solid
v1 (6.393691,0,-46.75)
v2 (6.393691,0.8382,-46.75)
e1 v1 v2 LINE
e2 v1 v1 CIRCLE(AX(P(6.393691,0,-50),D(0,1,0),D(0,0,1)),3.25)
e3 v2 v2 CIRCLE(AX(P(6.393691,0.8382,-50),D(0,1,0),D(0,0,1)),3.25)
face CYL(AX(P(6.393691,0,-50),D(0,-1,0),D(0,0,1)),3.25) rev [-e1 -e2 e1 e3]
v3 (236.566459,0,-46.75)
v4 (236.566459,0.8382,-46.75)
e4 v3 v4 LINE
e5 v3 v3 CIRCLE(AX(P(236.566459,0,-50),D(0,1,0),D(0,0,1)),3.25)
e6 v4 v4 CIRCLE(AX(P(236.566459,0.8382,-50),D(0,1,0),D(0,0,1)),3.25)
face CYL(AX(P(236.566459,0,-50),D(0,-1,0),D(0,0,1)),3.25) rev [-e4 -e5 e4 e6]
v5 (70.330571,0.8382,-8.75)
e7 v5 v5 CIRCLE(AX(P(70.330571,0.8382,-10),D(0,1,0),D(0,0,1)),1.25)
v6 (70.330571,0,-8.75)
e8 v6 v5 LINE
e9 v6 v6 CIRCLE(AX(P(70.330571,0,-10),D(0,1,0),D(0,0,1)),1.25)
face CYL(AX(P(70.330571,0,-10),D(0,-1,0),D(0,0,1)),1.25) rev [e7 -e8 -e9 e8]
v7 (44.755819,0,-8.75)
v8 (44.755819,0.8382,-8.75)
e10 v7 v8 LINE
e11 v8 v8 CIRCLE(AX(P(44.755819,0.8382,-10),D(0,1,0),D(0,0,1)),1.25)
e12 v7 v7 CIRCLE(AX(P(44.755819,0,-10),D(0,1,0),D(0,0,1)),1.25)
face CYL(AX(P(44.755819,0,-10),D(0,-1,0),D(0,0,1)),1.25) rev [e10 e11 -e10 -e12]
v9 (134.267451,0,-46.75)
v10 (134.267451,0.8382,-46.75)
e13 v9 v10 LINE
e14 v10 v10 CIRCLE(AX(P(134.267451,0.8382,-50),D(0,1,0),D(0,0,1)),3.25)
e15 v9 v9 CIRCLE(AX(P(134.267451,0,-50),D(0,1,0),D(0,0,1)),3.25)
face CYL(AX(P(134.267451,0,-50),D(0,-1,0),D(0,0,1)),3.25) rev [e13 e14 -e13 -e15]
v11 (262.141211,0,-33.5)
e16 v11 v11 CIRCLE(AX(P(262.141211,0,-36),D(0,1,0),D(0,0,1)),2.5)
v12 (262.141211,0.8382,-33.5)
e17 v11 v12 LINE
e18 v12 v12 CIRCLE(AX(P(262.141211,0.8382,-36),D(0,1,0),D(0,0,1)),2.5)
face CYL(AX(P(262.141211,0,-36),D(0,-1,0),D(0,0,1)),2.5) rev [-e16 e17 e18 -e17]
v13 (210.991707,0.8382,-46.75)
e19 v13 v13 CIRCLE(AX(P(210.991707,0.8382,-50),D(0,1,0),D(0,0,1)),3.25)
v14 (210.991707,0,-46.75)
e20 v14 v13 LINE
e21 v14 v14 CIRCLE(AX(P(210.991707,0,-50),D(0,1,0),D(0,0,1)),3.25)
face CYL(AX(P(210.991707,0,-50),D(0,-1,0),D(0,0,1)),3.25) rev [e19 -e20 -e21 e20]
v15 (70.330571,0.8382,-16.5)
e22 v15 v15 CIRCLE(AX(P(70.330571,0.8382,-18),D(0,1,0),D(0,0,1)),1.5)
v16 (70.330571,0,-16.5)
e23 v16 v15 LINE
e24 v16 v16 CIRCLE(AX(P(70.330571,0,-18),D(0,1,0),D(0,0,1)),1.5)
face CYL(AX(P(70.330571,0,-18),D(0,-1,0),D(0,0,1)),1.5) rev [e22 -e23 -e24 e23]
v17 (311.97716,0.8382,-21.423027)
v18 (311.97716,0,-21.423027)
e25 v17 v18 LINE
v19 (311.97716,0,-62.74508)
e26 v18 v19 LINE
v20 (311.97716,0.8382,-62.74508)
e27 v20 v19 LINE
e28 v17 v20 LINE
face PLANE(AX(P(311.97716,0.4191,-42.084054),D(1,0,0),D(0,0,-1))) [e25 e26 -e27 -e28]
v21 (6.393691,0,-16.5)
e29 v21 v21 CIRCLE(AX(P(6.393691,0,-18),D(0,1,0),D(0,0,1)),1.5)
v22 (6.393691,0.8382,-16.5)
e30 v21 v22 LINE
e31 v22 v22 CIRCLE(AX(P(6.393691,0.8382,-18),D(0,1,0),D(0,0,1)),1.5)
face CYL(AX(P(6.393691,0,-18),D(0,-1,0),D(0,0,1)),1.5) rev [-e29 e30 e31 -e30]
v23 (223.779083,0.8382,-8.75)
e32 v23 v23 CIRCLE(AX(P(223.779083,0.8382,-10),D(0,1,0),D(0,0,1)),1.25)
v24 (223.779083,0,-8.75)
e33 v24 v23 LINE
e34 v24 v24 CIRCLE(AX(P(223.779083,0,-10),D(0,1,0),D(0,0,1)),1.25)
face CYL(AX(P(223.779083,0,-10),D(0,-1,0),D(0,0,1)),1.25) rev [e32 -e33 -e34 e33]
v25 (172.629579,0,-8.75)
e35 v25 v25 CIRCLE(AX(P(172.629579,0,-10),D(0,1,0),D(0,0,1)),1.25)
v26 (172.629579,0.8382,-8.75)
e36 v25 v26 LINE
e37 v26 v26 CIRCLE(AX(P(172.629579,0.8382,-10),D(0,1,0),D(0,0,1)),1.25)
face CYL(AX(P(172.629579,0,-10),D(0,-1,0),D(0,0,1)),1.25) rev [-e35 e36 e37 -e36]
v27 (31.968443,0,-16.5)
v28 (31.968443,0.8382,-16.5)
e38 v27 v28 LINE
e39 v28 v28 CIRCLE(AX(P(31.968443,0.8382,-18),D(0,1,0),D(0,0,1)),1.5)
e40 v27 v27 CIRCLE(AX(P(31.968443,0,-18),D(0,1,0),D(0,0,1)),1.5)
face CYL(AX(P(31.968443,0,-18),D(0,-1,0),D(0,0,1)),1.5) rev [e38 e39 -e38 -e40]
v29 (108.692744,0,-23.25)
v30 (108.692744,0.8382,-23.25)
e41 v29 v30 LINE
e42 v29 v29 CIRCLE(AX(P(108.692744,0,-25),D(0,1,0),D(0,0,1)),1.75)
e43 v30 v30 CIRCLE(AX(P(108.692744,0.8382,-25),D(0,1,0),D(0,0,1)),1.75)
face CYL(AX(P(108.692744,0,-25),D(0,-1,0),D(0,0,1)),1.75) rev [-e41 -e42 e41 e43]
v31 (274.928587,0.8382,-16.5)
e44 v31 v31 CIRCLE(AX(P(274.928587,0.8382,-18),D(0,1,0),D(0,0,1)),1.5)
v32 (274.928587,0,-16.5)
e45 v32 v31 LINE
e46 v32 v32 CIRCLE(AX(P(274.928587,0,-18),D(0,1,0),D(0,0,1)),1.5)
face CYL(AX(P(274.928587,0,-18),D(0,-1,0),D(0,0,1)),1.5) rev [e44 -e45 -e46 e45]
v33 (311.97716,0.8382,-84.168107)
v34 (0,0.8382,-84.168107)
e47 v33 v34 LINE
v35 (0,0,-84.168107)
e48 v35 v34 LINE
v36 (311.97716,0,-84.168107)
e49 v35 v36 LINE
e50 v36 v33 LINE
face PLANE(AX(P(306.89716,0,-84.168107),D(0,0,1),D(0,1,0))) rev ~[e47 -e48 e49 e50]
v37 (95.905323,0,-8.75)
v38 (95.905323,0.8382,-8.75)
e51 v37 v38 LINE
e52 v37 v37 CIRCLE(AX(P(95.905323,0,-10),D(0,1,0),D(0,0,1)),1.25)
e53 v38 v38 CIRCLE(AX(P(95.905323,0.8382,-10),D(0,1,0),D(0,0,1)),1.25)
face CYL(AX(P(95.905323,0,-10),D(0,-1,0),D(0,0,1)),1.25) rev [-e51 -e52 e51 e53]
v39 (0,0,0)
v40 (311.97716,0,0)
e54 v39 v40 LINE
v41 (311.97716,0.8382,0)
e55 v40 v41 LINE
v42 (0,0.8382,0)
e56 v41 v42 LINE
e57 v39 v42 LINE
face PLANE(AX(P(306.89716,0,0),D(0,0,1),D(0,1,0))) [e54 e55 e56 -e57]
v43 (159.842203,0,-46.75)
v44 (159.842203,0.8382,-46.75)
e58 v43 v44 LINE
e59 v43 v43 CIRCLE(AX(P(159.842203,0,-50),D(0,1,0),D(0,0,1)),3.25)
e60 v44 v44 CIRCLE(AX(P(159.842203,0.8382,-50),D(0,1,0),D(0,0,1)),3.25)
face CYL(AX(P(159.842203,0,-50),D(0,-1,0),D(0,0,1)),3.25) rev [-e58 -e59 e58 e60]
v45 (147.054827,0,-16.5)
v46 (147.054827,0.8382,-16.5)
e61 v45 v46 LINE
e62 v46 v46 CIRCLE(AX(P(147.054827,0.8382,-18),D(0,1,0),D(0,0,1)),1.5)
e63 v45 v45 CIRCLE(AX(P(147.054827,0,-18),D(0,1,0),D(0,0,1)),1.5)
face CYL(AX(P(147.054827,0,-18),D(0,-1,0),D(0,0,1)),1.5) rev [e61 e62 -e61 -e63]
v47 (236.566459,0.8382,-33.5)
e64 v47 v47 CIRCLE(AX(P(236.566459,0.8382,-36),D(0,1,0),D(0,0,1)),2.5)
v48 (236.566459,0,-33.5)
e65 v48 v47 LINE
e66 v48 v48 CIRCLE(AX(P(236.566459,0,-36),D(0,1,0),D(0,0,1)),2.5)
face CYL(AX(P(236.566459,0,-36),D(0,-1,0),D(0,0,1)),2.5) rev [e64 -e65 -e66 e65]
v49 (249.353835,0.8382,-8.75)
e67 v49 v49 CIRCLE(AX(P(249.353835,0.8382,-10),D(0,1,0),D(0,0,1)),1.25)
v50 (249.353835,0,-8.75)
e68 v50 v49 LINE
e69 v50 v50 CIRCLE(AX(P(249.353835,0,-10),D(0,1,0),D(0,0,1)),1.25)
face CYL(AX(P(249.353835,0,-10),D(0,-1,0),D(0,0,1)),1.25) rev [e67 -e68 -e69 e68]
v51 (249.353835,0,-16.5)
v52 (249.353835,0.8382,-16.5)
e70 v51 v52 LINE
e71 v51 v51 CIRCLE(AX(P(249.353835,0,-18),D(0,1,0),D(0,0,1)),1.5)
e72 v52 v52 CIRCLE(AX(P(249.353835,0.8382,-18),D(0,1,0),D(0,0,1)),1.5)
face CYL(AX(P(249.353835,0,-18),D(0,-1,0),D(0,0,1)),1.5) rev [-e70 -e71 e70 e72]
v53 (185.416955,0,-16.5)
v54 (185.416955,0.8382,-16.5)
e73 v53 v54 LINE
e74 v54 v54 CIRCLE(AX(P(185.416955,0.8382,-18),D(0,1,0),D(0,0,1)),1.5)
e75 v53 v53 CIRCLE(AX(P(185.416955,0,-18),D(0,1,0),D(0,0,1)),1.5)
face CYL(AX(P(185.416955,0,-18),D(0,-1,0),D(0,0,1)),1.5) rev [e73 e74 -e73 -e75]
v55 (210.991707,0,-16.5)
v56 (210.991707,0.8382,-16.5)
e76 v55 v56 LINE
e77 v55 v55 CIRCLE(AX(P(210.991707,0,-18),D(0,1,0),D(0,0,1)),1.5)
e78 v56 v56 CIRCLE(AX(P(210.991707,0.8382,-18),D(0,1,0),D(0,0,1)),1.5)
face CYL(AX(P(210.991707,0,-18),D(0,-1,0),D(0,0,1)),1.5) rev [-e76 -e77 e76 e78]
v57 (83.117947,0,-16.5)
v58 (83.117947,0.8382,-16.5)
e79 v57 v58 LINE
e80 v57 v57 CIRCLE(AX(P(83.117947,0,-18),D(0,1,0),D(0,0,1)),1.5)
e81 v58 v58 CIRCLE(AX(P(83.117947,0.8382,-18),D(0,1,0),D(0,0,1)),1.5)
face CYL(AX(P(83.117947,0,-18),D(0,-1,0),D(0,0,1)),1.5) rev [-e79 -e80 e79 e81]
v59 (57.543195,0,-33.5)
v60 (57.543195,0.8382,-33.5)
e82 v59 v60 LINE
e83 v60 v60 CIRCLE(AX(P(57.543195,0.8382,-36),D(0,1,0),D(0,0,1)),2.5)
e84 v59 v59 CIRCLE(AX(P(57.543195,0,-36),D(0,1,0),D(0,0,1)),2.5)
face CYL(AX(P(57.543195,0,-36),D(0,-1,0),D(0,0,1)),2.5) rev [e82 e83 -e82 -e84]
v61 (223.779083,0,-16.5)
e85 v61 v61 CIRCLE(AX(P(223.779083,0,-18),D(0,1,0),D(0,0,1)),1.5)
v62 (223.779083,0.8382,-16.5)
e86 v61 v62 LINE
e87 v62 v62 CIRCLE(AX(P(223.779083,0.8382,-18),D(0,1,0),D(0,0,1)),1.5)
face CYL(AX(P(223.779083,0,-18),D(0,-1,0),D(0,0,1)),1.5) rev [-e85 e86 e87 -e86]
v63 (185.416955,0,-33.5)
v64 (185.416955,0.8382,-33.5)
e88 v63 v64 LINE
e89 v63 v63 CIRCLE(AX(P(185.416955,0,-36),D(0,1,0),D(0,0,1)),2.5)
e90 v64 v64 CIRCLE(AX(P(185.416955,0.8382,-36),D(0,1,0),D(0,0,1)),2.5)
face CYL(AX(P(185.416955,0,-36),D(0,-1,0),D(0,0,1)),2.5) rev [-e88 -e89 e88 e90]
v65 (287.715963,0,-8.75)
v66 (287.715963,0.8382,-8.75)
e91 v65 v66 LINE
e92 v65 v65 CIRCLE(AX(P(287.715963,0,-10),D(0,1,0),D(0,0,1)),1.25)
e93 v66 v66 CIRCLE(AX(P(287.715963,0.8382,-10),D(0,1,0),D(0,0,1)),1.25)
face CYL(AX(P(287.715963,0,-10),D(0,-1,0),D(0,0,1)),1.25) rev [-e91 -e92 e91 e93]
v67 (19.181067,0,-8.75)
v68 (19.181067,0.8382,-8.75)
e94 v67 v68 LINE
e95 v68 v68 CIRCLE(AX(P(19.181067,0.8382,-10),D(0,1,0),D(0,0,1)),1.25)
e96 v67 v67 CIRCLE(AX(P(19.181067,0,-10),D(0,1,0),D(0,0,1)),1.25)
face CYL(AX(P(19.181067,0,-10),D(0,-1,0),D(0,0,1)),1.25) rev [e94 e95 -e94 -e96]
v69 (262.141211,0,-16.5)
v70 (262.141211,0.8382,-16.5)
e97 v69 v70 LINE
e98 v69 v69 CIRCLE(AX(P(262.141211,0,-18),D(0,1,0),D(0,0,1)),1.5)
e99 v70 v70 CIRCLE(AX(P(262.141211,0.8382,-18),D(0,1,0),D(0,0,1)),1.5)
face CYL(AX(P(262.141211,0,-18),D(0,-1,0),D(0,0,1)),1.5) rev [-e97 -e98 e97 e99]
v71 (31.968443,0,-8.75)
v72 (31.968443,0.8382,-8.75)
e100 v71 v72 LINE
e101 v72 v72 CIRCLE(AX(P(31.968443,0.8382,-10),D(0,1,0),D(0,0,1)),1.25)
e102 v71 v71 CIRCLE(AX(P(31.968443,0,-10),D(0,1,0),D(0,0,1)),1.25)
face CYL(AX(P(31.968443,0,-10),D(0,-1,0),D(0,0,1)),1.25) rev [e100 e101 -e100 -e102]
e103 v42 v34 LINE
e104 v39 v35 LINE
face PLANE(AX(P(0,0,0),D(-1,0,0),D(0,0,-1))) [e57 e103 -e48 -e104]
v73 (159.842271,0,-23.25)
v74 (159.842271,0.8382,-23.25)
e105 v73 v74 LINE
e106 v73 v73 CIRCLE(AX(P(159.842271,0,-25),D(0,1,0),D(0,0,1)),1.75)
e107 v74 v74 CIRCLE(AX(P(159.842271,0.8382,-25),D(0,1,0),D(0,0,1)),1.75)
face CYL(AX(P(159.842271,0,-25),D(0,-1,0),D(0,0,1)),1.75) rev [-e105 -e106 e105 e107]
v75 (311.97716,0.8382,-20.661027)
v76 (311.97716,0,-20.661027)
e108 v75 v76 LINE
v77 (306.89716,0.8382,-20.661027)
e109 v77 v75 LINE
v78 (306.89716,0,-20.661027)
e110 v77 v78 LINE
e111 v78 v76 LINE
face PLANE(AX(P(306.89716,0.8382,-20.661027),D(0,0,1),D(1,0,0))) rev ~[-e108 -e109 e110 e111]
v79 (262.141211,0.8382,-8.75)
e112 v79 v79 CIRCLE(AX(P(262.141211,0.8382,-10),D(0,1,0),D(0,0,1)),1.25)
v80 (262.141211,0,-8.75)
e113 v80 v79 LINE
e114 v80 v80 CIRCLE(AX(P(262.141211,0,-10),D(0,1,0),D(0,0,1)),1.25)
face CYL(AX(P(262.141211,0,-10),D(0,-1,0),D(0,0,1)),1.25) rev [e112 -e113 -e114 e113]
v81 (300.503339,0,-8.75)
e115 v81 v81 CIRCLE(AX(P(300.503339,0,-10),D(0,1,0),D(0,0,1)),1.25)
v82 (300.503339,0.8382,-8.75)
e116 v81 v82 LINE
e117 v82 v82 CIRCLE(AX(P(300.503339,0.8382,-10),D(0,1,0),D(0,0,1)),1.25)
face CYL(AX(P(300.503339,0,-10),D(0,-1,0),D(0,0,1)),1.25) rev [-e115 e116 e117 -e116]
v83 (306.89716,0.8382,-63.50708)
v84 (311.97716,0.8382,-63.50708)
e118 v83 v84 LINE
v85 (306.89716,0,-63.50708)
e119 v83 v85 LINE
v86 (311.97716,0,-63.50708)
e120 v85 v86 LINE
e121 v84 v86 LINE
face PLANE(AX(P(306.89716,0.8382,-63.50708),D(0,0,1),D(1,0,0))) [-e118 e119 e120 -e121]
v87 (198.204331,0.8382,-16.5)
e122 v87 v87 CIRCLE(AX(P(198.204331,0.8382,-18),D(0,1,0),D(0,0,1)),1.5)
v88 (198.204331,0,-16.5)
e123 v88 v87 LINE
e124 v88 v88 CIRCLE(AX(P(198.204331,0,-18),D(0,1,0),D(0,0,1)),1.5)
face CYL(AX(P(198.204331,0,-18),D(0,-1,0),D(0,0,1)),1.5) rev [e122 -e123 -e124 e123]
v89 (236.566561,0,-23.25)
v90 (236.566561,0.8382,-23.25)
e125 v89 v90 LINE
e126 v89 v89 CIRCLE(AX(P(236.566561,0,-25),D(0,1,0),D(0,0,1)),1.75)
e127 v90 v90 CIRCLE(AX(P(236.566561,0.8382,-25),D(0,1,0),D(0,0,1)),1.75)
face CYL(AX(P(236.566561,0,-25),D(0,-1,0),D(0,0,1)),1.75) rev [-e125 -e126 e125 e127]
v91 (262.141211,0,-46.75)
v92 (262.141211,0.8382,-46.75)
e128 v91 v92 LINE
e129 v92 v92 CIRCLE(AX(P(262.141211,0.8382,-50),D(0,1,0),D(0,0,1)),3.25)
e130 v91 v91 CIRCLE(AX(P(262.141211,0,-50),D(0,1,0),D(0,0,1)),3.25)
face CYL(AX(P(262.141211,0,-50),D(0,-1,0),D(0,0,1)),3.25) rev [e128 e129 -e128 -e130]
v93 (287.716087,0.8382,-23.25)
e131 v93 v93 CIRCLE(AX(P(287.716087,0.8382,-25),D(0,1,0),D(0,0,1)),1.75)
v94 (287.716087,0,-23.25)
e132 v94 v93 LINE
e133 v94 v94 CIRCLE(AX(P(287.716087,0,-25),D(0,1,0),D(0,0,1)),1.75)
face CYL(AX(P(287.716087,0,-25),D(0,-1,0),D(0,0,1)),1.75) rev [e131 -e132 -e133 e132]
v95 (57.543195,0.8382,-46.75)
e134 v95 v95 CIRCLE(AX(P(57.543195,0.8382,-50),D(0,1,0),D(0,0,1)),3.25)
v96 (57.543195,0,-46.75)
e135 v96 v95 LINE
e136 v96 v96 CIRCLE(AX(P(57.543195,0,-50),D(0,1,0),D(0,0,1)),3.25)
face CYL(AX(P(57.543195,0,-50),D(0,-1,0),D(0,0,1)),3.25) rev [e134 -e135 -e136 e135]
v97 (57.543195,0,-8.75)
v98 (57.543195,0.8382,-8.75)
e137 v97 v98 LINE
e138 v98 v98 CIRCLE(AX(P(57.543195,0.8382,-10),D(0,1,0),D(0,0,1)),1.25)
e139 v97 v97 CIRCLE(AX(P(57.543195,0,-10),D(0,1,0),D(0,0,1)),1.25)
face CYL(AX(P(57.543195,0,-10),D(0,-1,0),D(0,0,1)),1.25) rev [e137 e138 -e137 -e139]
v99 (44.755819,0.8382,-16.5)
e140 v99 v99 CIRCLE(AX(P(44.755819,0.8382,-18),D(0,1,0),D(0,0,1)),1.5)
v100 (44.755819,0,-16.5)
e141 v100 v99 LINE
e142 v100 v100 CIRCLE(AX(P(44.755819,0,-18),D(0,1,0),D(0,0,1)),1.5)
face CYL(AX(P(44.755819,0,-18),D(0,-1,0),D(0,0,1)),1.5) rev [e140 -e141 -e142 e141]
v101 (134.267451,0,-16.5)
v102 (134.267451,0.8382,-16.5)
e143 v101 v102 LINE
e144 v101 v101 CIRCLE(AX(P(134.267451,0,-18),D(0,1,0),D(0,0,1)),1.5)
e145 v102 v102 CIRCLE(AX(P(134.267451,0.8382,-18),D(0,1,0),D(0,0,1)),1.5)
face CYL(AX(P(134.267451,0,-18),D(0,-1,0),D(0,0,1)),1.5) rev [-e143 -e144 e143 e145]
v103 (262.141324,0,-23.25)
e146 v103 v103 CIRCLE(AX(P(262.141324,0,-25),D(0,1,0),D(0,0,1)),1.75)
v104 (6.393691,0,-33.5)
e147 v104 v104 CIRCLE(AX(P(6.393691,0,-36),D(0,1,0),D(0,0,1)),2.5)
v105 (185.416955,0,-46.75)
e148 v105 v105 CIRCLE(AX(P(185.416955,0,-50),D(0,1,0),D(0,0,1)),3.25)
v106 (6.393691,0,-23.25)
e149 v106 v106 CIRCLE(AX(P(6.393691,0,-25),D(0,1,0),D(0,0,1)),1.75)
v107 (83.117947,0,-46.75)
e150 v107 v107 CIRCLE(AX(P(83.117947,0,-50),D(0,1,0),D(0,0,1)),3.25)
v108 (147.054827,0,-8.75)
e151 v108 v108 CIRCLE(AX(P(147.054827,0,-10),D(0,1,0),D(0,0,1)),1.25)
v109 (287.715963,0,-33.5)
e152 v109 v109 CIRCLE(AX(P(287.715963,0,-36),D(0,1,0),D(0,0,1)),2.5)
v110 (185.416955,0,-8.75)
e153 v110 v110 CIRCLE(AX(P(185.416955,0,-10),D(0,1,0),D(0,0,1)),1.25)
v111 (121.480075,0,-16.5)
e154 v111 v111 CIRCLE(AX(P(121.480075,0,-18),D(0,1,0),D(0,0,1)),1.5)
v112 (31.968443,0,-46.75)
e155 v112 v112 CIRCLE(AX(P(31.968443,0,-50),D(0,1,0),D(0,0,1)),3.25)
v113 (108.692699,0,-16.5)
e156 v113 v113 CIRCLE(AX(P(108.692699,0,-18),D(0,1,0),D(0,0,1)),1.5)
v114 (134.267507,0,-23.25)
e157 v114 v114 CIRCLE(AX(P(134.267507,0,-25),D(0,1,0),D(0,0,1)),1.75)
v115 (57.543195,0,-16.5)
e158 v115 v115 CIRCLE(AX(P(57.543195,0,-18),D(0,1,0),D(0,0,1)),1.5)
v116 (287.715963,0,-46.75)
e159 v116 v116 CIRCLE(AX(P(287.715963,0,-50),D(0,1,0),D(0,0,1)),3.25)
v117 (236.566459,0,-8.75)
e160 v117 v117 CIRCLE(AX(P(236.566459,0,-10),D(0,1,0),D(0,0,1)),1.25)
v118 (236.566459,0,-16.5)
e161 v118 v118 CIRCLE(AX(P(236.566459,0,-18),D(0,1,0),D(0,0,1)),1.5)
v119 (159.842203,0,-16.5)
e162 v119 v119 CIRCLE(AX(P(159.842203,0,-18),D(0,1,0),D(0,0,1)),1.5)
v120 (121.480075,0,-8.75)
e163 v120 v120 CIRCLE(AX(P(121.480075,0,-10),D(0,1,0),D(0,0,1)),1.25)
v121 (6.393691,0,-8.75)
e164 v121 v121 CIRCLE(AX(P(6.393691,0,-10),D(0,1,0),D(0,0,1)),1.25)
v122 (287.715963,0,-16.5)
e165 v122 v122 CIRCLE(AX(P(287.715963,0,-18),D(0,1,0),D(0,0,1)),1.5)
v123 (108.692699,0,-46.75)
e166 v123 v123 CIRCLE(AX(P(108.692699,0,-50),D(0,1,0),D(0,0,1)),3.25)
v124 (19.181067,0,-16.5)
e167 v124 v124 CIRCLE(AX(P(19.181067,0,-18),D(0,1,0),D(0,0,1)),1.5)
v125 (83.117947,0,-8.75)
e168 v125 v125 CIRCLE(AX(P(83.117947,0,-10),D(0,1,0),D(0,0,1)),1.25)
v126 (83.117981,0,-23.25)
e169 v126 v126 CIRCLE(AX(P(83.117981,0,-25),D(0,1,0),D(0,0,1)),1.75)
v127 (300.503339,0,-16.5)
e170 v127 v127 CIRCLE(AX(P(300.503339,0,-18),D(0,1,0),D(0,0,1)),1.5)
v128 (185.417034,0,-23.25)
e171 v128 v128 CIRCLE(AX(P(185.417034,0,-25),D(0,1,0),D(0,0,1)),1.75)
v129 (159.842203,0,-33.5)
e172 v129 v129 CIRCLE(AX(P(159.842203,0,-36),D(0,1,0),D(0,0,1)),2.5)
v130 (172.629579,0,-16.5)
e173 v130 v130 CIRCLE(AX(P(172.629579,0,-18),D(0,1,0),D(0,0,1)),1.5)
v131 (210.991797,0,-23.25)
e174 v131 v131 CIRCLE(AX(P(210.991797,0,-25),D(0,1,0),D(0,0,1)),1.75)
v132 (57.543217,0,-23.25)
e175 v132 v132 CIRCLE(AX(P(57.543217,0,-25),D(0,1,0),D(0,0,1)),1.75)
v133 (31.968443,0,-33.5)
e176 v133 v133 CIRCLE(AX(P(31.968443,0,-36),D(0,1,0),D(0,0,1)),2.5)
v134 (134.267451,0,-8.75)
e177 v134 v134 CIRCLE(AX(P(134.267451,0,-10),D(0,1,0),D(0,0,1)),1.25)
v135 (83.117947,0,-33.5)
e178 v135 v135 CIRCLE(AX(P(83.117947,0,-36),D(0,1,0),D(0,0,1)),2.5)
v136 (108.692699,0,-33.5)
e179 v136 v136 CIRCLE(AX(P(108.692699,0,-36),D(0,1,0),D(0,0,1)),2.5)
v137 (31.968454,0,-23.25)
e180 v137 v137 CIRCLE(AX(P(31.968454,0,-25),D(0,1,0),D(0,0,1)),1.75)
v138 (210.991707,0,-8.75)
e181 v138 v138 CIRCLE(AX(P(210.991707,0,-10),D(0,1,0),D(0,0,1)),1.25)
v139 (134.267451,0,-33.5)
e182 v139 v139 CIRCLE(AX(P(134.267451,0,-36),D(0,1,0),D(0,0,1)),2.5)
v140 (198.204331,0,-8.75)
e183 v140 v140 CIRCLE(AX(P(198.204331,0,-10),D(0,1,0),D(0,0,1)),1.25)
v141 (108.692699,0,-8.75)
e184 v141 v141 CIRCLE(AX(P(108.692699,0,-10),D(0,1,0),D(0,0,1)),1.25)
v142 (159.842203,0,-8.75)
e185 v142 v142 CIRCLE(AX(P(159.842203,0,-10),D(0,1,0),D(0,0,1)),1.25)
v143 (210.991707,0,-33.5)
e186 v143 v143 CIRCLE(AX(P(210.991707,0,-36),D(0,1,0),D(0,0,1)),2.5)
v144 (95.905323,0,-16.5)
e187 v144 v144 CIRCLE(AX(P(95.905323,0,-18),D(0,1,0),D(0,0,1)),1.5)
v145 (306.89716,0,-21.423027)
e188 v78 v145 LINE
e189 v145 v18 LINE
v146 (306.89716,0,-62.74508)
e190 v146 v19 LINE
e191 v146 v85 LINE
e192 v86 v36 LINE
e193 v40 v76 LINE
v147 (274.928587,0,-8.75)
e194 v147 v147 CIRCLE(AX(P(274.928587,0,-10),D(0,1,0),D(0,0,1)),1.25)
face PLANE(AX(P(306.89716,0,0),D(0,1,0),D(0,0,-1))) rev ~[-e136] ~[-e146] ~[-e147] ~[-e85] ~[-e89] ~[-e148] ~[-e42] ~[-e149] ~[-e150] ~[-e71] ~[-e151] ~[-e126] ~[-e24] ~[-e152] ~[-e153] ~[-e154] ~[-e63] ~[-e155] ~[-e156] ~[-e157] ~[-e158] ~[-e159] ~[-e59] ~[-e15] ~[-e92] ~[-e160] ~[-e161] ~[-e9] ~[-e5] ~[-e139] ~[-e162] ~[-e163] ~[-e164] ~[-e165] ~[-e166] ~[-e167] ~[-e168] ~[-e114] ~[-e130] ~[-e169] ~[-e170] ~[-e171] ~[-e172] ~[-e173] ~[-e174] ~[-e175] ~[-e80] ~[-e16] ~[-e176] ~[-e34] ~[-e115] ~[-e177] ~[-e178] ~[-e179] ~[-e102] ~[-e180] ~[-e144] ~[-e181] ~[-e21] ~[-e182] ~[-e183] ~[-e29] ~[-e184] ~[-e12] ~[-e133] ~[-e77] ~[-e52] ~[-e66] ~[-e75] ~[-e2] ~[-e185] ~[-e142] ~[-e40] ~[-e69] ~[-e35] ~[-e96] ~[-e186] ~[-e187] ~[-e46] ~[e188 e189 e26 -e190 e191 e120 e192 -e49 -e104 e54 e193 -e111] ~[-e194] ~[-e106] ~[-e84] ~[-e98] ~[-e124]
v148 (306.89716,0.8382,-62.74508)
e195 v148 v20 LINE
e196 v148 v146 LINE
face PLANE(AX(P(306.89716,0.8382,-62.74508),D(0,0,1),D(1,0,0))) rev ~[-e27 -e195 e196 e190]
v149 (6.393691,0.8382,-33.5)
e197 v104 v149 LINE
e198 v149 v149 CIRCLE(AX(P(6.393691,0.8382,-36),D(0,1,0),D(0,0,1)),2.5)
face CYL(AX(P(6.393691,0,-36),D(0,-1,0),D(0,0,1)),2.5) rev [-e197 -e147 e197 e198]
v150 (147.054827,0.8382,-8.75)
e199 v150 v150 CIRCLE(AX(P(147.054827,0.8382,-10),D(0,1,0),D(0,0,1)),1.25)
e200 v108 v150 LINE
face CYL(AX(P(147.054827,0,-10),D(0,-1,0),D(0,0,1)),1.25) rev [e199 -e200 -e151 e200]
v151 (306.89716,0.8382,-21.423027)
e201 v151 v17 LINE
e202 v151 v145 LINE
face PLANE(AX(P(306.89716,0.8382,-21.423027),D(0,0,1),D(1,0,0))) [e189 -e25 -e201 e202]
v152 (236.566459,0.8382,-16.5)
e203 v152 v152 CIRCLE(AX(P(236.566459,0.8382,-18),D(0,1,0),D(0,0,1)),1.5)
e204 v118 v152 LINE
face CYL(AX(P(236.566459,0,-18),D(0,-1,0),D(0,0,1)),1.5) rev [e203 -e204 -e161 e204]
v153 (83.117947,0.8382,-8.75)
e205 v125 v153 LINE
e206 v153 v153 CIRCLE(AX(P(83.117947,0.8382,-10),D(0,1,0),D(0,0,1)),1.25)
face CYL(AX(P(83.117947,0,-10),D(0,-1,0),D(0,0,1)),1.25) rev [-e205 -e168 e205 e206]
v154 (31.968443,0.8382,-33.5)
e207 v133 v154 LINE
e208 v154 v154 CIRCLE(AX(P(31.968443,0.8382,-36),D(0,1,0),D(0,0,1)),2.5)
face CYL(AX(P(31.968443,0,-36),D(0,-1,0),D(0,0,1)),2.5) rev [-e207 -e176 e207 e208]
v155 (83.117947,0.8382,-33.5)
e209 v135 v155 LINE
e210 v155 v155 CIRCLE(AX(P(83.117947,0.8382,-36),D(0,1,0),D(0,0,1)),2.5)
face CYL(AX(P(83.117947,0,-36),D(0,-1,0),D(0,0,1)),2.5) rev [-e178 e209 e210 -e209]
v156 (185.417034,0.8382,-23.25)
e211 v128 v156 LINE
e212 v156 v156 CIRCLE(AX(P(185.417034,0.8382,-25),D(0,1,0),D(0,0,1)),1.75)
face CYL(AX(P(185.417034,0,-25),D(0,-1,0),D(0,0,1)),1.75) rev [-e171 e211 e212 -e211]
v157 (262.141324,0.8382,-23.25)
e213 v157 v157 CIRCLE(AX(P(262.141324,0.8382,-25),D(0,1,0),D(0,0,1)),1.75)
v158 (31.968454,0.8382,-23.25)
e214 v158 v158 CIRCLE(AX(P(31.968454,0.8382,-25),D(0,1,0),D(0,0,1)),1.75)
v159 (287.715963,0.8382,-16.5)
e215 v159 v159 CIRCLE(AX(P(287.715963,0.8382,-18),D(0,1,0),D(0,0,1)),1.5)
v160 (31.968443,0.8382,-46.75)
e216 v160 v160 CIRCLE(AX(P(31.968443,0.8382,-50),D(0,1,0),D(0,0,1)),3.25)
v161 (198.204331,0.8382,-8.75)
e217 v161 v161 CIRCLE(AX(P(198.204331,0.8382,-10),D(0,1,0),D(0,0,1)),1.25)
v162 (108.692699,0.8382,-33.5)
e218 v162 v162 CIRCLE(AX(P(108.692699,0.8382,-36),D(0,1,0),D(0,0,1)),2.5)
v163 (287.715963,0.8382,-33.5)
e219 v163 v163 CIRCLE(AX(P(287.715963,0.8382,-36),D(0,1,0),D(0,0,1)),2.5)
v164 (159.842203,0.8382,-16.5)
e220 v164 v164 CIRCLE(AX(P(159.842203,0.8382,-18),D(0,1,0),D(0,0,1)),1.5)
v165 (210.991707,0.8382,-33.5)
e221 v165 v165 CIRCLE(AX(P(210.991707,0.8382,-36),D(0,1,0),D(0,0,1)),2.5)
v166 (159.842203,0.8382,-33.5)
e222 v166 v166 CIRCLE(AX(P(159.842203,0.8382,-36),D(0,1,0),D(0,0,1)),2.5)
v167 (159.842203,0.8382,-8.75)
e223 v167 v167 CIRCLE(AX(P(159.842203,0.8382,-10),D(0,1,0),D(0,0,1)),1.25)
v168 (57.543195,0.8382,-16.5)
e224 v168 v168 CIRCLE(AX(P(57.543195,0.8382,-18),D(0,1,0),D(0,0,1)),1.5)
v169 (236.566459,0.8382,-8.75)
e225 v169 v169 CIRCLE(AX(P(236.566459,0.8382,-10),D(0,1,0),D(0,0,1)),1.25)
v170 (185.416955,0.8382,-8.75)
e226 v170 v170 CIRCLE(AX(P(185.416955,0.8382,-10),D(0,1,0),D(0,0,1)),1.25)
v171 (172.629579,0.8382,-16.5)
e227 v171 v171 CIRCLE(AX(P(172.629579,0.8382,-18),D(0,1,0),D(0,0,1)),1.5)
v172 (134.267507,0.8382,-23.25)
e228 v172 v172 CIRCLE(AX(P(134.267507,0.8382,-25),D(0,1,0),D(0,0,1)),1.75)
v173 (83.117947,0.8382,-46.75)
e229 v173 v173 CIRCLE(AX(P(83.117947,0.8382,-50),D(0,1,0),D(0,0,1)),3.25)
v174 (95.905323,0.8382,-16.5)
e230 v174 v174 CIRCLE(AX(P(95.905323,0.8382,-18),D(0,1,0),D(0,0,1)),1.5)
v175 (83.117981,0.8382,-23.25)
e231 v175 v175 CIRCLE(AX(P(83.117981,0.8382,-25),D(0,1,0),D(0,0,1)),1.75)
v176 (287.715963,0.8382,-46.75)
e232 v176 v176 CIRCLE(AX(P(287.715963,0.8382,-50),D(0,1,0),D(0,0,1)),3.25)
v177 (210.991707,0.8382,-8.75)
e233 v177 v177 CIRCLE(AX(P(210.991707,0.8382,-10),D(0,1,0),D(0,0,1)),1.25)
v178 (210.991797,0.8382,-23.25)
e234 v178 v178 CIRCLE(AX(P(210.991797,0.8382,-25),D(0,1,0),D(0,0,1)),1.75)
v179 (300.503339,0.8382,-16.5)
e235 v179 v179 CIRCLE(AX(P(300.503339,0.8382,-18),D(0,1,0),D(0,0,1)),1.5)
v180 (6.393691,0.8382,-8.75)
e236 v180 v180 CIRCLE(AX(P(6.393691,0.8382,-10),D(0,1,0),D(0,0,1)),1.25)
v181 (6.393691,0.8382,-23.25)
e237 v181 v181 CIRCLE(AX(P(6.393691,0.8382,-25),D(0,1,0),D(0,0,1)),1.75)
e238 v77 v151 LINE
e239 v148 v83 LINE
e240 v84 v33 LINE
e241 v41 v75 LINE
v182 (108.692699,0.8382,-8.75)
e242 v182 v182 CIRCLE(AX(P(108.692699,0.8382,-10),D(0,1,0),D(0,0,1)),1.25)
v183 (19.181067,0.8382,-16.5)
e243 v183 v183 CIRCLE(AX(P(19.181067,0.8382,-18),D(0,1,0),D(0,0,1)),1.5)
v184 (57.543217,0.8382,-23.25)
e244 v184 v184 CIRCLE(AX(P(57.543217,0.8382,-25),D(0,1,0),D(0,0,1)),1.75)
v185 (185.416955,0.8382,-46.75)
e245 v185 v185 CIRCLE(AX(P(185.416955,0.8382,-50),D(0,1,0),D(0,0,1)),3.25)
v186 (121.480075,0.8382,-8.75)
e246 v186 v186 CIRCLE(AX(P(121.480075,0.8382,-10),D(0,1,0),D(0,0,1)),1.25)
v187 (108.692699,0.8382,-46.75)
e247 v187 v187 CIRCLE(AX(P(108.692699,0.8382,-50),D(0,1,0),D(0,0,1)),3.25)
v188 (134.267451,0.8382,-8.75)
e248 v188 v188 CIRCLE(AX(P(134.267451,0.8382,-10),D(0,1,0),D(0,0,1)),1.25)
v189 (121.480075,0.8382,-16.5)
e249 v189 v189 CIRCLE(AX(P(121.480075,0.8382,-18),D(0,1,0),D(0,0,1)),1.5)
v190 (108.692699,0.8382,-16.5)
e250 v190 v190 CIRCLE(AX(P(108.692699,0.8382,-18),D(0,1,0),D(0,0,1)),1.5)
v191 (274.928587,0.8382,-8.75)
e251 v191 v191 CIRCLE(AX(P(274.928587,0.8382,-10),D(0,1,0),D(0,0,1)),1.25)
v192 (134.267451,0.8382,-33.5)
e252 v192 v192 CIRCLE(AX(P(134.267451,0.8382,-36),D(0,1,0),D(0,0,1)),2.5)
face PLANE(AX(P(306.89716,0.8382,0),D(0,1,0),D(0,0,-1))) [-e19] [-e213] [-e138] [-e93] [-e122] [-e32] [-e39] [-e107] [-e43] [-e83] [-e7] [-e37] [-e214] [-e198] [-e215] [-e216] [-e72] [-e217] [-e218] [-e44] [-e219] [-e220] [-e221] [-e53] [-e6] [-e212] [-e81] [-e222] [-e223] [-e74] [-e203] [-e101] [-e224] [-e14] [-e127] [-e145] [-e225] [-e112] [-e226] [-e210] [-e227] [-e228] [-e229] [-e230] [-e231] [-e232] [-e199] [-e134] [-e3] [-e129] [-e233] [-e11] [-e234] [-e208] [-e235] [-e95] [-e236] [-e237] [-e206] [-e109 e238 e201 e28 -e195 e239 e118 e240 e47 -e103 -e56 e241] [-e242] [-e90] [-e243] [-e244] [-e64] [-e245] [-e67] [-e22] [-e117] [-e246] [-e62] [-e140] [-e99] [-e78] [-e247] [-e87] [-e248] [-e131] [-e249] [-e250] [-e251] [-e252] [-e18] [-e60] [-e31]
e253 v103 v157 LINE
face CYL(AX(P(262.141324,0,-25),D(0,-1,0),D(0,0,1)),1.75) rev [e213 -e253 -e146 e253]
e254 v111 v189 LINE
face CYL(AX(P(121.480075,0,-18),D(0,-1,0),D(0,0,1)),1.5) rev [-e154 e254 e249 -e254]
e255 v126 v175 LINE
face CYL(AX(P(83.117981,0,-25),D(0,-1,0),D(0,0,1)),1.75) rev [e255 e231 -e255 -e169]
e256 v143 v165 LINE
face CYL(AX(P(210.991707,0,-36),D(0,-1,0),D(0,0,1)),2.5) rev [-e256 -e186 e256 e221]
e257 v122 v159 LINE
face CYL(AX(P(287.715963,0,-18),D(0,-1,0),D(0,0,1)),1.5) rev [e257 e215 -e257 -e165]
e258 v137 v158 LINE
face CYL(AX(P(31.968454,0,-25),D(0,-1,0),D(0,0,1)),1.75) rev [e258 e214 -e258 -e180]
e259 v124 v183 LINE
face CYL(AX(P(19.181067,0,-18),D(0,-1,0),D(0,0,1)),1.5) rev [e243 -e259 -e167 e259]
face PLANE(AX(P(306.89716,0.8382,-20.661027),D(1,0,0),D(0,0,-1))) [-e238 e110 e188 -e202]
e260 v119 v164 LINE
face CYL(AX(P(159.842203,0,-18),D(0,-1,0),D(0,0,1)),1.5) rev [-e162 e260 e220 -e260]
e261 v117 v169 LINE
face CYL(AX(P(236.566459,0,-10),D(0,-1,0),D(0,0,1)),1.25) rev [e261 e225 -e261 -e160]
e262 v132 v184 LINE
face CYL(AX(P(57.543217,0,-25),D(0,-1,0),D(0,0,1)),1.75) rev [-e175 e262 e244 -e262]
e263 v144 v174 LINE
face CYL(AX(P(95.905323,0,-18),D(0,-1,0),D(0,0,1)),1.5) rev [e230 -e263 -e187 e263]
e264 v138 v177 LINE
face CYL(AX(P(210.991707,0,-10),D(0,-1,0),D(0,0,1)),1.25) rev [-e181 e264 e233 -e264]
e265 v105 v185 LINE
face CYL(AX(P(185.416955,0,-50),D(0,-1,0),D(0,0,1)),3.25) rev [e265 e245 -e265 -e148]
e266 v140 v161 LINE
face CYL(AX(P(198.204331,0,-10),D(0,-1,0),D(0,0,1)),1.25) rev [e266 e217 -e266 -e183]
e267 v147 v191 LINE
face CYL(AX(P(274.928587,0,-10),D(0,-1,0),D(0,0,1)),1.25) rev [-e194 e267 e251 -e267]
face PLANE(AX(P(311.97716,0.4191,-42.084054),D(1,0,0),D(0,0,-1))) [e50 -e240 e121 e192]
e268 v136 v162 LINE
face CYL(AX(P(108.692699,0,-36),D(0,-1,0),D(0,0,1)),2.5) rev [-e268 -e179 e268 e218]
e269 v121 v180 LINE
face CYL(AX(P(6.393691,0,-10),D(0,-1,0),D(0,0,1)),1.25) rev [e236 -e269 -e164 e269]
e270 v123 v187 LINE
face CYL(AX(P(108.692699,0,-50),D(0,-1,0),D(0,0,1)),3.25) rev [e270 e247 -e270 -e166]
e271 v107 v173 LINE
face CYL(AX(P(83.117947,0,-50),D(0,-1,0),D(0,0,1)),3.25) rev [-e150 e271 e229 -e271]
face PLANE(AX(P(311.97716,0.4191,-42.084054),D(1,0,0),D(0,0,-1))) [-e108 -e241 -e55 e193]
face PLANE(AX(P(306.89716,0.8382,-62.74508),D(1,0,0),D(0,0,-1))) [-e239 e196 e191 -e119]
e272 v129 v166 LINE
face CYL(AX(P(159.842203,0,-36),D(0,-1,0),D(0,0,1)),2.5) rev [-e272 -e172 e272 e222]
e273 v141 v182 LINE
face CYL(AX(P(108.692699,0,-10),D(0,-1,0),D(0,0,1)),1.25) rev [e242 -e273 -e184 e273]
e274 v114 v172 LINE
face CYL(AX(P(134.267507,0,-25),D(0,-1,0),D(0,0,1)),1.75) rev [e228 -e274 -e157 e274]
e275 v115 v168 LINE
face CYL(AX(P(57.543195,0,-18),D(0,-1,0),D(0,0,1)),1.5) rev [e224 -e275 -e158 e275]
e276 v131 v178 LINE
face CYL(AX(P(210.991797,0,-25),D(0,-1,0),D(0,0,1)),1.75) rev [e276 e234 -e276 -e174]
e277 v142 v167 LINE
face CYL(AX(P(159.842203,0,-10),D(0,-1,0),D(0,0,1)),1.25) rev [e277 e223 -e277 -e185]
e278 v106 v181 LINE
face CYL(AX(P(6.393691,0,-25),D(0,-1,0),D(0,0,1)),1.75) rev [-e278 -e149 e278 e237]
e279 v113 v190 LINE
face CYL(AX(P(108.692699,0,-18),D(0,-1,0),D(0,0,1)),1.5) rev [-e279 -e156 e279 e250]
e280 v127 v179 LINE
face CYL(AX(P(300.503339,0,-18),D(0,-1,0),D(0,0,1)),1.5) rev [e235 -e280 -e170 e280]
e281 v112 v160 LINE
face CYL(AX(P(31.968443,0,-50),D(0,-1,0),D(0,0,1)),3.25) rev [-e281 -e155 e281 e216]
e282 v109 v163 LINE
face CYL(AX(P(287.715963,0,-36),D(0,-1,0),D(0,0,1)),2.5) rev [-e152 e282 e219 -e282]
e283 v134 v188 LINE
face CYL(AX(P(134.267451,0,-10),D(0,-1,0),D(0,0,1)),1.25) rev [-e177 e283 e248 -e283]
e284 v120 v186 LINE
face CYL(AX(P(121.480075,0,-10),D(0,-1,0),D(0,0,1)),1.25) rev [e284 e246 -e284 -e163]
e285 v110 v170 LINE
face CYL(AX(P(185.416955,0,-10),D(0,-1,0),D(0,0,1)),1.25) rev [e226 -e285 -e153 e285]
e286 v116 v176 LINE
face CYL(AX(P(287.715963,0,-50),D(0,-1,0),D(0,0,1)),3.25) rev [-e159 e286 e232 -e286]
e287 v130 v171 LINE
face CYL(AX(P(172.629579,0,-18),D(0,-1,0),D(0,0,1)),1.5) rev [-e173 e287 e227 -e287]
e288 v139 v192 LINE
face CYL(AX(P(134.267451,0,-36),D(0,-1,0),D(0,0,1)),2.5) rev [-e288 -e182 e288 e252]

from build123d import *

# Parameters (mm, degrees)
SKETCH1_W           = 306.897159781
SKETCH1_H           = 84.168107
SKETCH1_R           = 1.25000004
SKETCH1_R_2         = 1.500000048
SKETCH1_R_3         = 1.750000056
SKETCH1_R_4         = 2.499999953
SKETCH1_R_5         = 3.249999977
BOSS_EXTRUDE1_DEPTH = 0.8382
SKETCH2_W           = 84.168107
SKETCH2_H           = 0.8382
BOSS_EXTRUDE2_DEPTH = 5.08
SKETCH3_W           = 10.16
SKETCH3_H           = 0.762
CUT_EXTRUDE2_DEPTH  = 5.08


with BuildPart() as part:
    # Sketch1 → Boss-Extrude1 (new body)
    with BuildSketch(Plane(origin=(0, 0, 0), x_dir=(1, 0, 0), z_dir=(0, 1, 0))):
        with Locations((153.448579891, 42.0840535)):
            Rectangle(SKETCH1_W, SKETCH1_H)
        with Locations(Location((6.393690829, 10.000000066, 0), (0, 0, 270))):
            Circle(SKETCH1_R, mode=Mode.SUBTRACT)
        with Locations(Location((19.181066829, 10.000000066, 0), (0, 0, 270))):
            Circle(SKETCH1_R, mode=Mode.SUBTRACT)
        with Locations(Location((31.968442829, 10.000000066, 0), (0, 0, 270))):
            Circle(SKETCH1_R, mode=Mode.SUBTRACT)
        with Locations(Location((44.755818829, 10.000000066, 0), (0, 0, 270))):
            Circle(SKETCH1_R, mode=Mode.SUBTRACT)
        with Locations(Location((57.543194829, 10.000000066, 0), (0, 0, 270))):
            Circle(SKETCH1_R, mode=Mode.SUBTRACT)
        with Locations(Location((70.330570829, 10.000000066, 0), (0, 0, 270))):
            Circle(SKETCH1_R, mode=Mode.SUBTRACT)
        with Locations(Location((83.117946829, 10.000000066, 0), (0, 0, 270))):
            Circle(SKETCH1_R, mode=Mode.SUBTRACT)
        with Locations(Location((95.905322829, 10.000000066, 0), (0, 0, 270))):
            Circle(SKETCH1_R, mode=Mode.SUBTRACT)
        with Locations(Location((108.692698829, 10.000000066, 0), (0, 0, 270))):
            Circle(SKETCH1_R, mode=Mode.SUBTRACT)
        with Locations(Location((121.480074829, 10.000000066, 0), (0, 0, 270))):
            Circle(SKETCH1_R, mode=Mode.SUBTRACT)
        with Locations(Location((134.267450829, 10.000000066, 0), (0, 0, 270))):
            Circle(SKETCH1_R, mode=Mode.SUBTRACT)
        with Locations(Location((147.054826829, 10.000000066, 0), (0, 0, 270))):
            Circle(SKETCH1_R, mode=Mode.SUBTRACT)
        with Locations(Location((159.842202829, 10.000000066, 0), (0, 0, 270))):
            Circle(SKETCH1_R, mode=Mode.SUBTRACT)
        with Locations(Location((172.629578829, 10.000000066, 0), (0, 0, 270))):
            Circle(SKETCH1_R, mode=Mode.SUBTRACT)
        with Locations(Location((185.416954829, 10.000000066, 0), (0, 0, 270))):
            Circle(SKETCH1_R, mode=Mode.SUBTRACT)
        with Locations(Location((198.204330829, 10.000000066, 0), (0, 0, 270))):
            Circle(SKETCH1_R, mode=Mode.SUBTRACT)
        with Locations(Location((210.991706829, 10.000000066, 0), (0, 0, 270))):
            Circle(SKETCH1_R, mode=Mode.SUBTRACT)
        with Locations(Location((223.779082829, 10.000000066, 0), (0, 0, 270))):
            Circle(SKETCH1_R, mode=Mode.SUBTRACT)
        with Locations(Location((236.566458829, 10.000000066, 0), (0, 0, 270))):
            Circle(SKETCH1_R, mode=Mode.SUBTRACT)
        with Locations(Location((249.353834829, 10.000000066, 0), (0, 0, 270))):
            Circle(SKETCH1_R, mode=Mode.SUBTRACT)
        with Locations(Location((262.141210829, 10.000000066, 0), (0, 0, 270))):
            Circle(SKETCH1_R, mode=Mode.SUBTRACT)
        with Locations(Location((274.928586829, 10.000000066, 0), (0, 0, 270))):
            Circle(SKETCH1_R, mode=Mode.SUBTRACT)
        with Locations(Location((287.715962829, 10.000000066, 0), (0, 0, 270))):
            Circle(SKETCH1_R, mode=Mode.SUBTRACT)
        with Locations(Location((300.503338829, 10.000000066, 0), (0, 0, 270))):
            Circle(SKETCH1_R, mode=Mode.SUBTRACT)
        with Locations(Location((6.393690829, 18.000000068, 0), (0, 0, 270))):
            Circle(SKETCH1_R_2, mode=Mode.SUBTRACT)
        with Locations(Location((19.181066829, 18.000000068, 0), (0, 0, 270))):
            Circle(SKETCH1_R_2, mode=Mode.SUBTRACT)
        with Locations(Location((31.968442829, 18.000000068, 0), (0, 0, 270))):
            Circle(SKETCH1_R_2, mode=Mode.SUBTRACT)
        with Locations(Location((44.755818829, 18.000000068, 0), (0, 0, 270))):
            Circle(SKETCH1_R_2, mode=Mode.SUBTRACT)
        with Locations(Location((57.543194829, 18.000000068, 0), (0, 0, 270))):
            Circle(SKETCH1_R_2, mode=Mode.SUBTRACT)
        with Locations(Location((70.330570829, 18.000000068, 0), (0, 0, 270))):
            Circle(SKETCH1_R_2, mode=Mode.SUBTRACT)
        with Locations(Location((83.117946829, 18.000000068, 0), (0, 0, 270))):
            Circle(SKETCH1_R_2, mode=Mode.SUBTRACT)
        with Locations(Location((95.905322829, 18.000000068, 0), (0, 0, 270))):
            Circle(SKETCH1_R_2, mode=Mode.SUBTRACT)
        with Locations(Location((108.692698829, 18.000000068, 0), (0, 0, 270))):
            Circle(SKETCH1_R_2, mode=Mode.SUBTRACT)
        with Locations(Location((121.480074829, 18.000000068, 0), (0, 0, 270))):
            Circle(SKETCH1_R_2, mode=Mode.SUBTRACT)
        with Locations(Location((134.267450829, 18.000000068, 0), (0, 0, 270))):
            Circle(SKETCH1_R_2, mode=Mode.SUBTRACT)
        with Locations(Location((147.054826829, 18.000000068, 0), (0, 0, 270))):
            Circle(SKETCH1_R_2, mode=Mode.SUBTRACT)
        with Locations(Location((159.842202829, 18.000000068, 0), (0, 0, 270))):
            Circle(SKETCH1_R_2, mode=Mode.SUBTRACT)
        with Locations(Location((172.629578829, 18.000000068, 0), (0, 0, 270))):
            Circle(SKETCH1_R_2, mode=Mode.SUBTRACT)
        with Locations(Location((185.416954829, 18.000000068, 0), (0, 0, 270))):
            Circle(SKETCH1_R_2, mode=Mode.SUBTRACT)
        with Locations(Location((198.204330829, 18.000000068, 0), (0, 0, 270))):
            Circle(SKETCH1_R_2, mode=Mode.SUBTRACT)
        with Locations(Location((210.991706829, 18.000000068, 0), (0, 0, 270))):
            Circle(SKETCH1_R_2, mode=Mode.SUBTRACT)
        with Locations(Location((223.779082829, 18.000000068, 0), (0, 0, 270))):
            Circle(SKETCH1_R_2, mode=Mode.SUBTRACT)
        with Locations(Location((236.566458829, 18.000000068, 0), (0, 0, 270))):
            Circle(SKETCH1_R_2, mode=Mode.SUBTRACT)
        with Locations(Location((249.353834829, 18.000000068, 0), (0, 0, 270))):
            Circle(SKETCH1_R_2, mode=Mode.SUBTRACT)
        with Locations(Location((262.141210829, 18.000000068, 0), (0, 0, 270))):
            Circle(SKETCH1_R_2, mode=Mode.SUBTRACT)
        with Locations(Location((274.928586829, 18.000000068, 0), (0, 0, 270))):
            Circle(SKETCH1_R_2, mode=Mode.SUBTRACT)
        with Locations(Location((287.715962829, 18.000000068, 0), (0, 0, 270))):
            Circle(SKETCH1_R_2, mode=Mode.SUBTRACT)
        with Locations(Location((300.503338829, 18.000000068, 0), (0, 0, 270))):
            Circle(SKETCH1_R_2, mode=Mode.SUBTRACT)
        with Locations(Location((6.393690829, 25.000000038, 0), (0, 0, 270))):
            Circle(SKETCH1_R_3, mode=Mode.SUBTRACT)
        with Locations(Location((31.968454144, 25.000000038, 0), (0, 0, 270))):
            Circle(SKETCH1_R_3, mode=Mode.SUBTRACT)
        with Locations(Location((57.543217459, 25.000000038, 0), (0, 0, 270))):
            Circle(SKETCH1_R_3, mode=Mode.SUBTRACT)
        with Locations(Location((83.117980774, 25.000000038, 0), (0, 0, 270))):
            Circle(SKETCH1_R_3, mode=Mode.SUBTRACT)
        with Locations(Location((108.692744089, 25.000000038, 0), (0, 0, 270))):
            Circle(SKETCH1_R_3, mode=Mode.SUBTRACT)
        with Locations(Location((134.267507404, 25.000000038, 0), (0, 0, 270))):
            Circle(SKETCH1_R_3, mode=Mode.SUBTRACT)
        with Locations(Location((159.842270719, 25.000000038, 0), (0, 0, 270))):
            Circle(SKETCH1_R_3, mode=Mode.SUBTRACT)
        with Locations(Location((185.417034034, 25.000000038, 0), (0, 0, 270))):
            Circle(SKETCH1_R_3, mode=Mode.SUBTRACT)
        with Locations(Location((210.991797349, 25.000000038, 0), (0, 0, 270))):
            Circle(SKETCH1_R_3, mode=Mode.SUBTRACT)
        with Locations(Location((236.566560664, 25.000000038, 0), (0, 0, 270))):
            Circle(SKETCH1_R_3, mode=Mode.SUBTRACT)
        with Locations(Location((262.14132398, 25.000000038, 0), (0, 0, 270))):
            Circle(SKETCH1_R_3, mode=Mode.SUBTRACT)
        with Locations(Location((287.716087295, 25.000000038, 0), (0, 0, 270))):
            Circle(SKETCH1_R_3, mode=Mode.SUBTRACT)
        with Locations(Location((6.393690829, 35.999999882, 0), (0, 0, 270))):
            Circle(SKETCH1_R_4, mode=Mode.SUBTRACT)
        with Locations(Location((31.968442829, 35.999999882, 0), (0, 0, 270))):
            Circle(SKETCH1_R_4, mode=Mode.SUBTRACT)
        with Locations(Location((57.543194829, 35.999999882, 0), (0, 0, 270))):
            Circle(SKETCH1_R_4, mode=Mode.SUBTRACT)
        with Locations(Location((83.117946829, 35.999999882, 0), (0, 0, 270))):
            Circle(SKETCH1_R_4, mode=Mode.SUBTRACT)
        with Locations(Location((108.692698829, 35.999999882, 0), (0, 0, 270))):
            Circle(SKETCH1_R_4, mode=Mode.SUBTRACT)
        with Locations(Location((134.267450829, 35.999999882, 0), (0, 0, 270))):
            Circle(SKETCH1_R_4, mode=Mode.SUBTRACT)
        with Locations(Location((159.842202829, 35.999999882, 0), (0, 0, 270))):
            Circle(SKETCH1_R_4, mode=Mode.SUBTRACT)
        with Locations(Location((185.416954829, 35.999999882, 0), (0, 0, 270))):
            Circle(SKETCH1_R_4, mode=Mode.SUBTRACT)
        with Locations(Location((210.991706829, 35.999999882, 0), (0, 0, 270))):
            Circle(SKETCH1_R_4, mode=Mode.SUBTRACT)
        with Locations(Location((236.566458829, 35.999999882, 0), (0, 0, 270))):
            Circle(SKETCH1_R_4, mode=Mode.SUBTRACT)
        with Locations(Location((262.141210829, 35.999999882, 0), (0, 0, 270))):
            Circle(SKETCH1_R_4, mode=Mode.SUBTRACT)
        with Locations(Location((287.715962829, 35.999999882, 0), (0, 0, 270))):
            Circle(SKETCH1_R_4, mode=Mode.SUBTRACT)
        with Locations(Location((6.393690829, 50.000000076, 0), (0, 0, 270))):
            Circle(SKETCH1_R_5, mode=Mode.SUBTRACT)
        with Locations(Location((31.968442829, 50.000000076, 0), (0, 0, 270))):
            Circle(SKETCH1_R_5, mode=Mode.SUBTRACT)
        with Locations(Location((57.543194829, 50.000000076, 0), (0, 0, 270))):
            Circle(SKETCH1_R_5, mode=Mode.SUBTRACT)
        with Locations(Location((83.117946829, 50.000000076, 0), (0, 0, 270))):
            Circle(SKETCH1_R_5, mode=Mode.SUBTRACT)
        with Locations(Location((108.692698829, 50.000000076, 0), (0, 0, 270))):
            Circle(SKETCH1_R_5, mode=Mode.SUBTRACT)
        with Locations(Location((134.267450829, 50.000000076, 0), (0, 0, 270))):
            Circle(SKETCH1_R_5, mode=Mode.SUBTRACT)
        with Locations(Location((159.842202829, 50.000000076, 0), (0, 0, 270))):
            Circle(SKETCH1_R_5, mode=Mode.SUBTRACT)
        with Locations(Location((185.416954829, 50.000000076, 0), (0, 0, 270))):
            Circle(SKETCH1_R_5, mode=Mode.SUBTRACT)
        with Locations(Location((210.991706829, 50.000000076, 0), (0, 0, 270))):
            Circle(SKETCH1_R_5, mode=Mode.SUBTRACT)
        with Locations(Location((236.566458829, 50.000000076, 0), (0, 0, 270))):
            Circle(SKETCH1_R_5, mode=Mode.SUBTRACT)
        with Locations(Location((262.141210829, 50.000000076, 0), (0, 0, 270))):
            Circle(SKETCH1_R_5, mode=Mode.SUBTRACT)
        with Locations(Location((287.715962829, 50.000000076, 0), (0, 0, 270))):
            Circle(SKETCH1_R_5, mode=Mode.SUBTRACT)
    extrude(amount=BOSS_EXTRUDE1_DEPTH)

    # Sketch2 → Boss-Extrude2 (add)
    with BuildSketch(Plane(origin=(306.897159781, 0, 0), x_dir=(0, 0, -1), z_dir=(1, 0, 0))):
        with Locations((42.0840535, 0.4191)):
            Rectangle(SKETCH2_W, SKETCH2_H)
    extrude(amount=BOSS_EXTRUDE2_DEPTH)

    # Sketch3 → Cut-Extrude2 (cut)
    with BuildSketch(Plane(origin=(0, 0.8382, 0), x_dir=(1, 0, 0), z_dir=(0, 1, 0))):
        with Locations((311.977159781, 21.04202675)):
            Rectangle(SKETCH3_W, SKETCH3_H)
        with Locations((311.977159781, 63.12608025)):
            Rectangle(SKETCH3_W, SKETCH3_H)
    extrude(amount=-CUT_EXTRUDE2_DEPTH, mode=Mode.SUBTRACT)


solid = part.part
